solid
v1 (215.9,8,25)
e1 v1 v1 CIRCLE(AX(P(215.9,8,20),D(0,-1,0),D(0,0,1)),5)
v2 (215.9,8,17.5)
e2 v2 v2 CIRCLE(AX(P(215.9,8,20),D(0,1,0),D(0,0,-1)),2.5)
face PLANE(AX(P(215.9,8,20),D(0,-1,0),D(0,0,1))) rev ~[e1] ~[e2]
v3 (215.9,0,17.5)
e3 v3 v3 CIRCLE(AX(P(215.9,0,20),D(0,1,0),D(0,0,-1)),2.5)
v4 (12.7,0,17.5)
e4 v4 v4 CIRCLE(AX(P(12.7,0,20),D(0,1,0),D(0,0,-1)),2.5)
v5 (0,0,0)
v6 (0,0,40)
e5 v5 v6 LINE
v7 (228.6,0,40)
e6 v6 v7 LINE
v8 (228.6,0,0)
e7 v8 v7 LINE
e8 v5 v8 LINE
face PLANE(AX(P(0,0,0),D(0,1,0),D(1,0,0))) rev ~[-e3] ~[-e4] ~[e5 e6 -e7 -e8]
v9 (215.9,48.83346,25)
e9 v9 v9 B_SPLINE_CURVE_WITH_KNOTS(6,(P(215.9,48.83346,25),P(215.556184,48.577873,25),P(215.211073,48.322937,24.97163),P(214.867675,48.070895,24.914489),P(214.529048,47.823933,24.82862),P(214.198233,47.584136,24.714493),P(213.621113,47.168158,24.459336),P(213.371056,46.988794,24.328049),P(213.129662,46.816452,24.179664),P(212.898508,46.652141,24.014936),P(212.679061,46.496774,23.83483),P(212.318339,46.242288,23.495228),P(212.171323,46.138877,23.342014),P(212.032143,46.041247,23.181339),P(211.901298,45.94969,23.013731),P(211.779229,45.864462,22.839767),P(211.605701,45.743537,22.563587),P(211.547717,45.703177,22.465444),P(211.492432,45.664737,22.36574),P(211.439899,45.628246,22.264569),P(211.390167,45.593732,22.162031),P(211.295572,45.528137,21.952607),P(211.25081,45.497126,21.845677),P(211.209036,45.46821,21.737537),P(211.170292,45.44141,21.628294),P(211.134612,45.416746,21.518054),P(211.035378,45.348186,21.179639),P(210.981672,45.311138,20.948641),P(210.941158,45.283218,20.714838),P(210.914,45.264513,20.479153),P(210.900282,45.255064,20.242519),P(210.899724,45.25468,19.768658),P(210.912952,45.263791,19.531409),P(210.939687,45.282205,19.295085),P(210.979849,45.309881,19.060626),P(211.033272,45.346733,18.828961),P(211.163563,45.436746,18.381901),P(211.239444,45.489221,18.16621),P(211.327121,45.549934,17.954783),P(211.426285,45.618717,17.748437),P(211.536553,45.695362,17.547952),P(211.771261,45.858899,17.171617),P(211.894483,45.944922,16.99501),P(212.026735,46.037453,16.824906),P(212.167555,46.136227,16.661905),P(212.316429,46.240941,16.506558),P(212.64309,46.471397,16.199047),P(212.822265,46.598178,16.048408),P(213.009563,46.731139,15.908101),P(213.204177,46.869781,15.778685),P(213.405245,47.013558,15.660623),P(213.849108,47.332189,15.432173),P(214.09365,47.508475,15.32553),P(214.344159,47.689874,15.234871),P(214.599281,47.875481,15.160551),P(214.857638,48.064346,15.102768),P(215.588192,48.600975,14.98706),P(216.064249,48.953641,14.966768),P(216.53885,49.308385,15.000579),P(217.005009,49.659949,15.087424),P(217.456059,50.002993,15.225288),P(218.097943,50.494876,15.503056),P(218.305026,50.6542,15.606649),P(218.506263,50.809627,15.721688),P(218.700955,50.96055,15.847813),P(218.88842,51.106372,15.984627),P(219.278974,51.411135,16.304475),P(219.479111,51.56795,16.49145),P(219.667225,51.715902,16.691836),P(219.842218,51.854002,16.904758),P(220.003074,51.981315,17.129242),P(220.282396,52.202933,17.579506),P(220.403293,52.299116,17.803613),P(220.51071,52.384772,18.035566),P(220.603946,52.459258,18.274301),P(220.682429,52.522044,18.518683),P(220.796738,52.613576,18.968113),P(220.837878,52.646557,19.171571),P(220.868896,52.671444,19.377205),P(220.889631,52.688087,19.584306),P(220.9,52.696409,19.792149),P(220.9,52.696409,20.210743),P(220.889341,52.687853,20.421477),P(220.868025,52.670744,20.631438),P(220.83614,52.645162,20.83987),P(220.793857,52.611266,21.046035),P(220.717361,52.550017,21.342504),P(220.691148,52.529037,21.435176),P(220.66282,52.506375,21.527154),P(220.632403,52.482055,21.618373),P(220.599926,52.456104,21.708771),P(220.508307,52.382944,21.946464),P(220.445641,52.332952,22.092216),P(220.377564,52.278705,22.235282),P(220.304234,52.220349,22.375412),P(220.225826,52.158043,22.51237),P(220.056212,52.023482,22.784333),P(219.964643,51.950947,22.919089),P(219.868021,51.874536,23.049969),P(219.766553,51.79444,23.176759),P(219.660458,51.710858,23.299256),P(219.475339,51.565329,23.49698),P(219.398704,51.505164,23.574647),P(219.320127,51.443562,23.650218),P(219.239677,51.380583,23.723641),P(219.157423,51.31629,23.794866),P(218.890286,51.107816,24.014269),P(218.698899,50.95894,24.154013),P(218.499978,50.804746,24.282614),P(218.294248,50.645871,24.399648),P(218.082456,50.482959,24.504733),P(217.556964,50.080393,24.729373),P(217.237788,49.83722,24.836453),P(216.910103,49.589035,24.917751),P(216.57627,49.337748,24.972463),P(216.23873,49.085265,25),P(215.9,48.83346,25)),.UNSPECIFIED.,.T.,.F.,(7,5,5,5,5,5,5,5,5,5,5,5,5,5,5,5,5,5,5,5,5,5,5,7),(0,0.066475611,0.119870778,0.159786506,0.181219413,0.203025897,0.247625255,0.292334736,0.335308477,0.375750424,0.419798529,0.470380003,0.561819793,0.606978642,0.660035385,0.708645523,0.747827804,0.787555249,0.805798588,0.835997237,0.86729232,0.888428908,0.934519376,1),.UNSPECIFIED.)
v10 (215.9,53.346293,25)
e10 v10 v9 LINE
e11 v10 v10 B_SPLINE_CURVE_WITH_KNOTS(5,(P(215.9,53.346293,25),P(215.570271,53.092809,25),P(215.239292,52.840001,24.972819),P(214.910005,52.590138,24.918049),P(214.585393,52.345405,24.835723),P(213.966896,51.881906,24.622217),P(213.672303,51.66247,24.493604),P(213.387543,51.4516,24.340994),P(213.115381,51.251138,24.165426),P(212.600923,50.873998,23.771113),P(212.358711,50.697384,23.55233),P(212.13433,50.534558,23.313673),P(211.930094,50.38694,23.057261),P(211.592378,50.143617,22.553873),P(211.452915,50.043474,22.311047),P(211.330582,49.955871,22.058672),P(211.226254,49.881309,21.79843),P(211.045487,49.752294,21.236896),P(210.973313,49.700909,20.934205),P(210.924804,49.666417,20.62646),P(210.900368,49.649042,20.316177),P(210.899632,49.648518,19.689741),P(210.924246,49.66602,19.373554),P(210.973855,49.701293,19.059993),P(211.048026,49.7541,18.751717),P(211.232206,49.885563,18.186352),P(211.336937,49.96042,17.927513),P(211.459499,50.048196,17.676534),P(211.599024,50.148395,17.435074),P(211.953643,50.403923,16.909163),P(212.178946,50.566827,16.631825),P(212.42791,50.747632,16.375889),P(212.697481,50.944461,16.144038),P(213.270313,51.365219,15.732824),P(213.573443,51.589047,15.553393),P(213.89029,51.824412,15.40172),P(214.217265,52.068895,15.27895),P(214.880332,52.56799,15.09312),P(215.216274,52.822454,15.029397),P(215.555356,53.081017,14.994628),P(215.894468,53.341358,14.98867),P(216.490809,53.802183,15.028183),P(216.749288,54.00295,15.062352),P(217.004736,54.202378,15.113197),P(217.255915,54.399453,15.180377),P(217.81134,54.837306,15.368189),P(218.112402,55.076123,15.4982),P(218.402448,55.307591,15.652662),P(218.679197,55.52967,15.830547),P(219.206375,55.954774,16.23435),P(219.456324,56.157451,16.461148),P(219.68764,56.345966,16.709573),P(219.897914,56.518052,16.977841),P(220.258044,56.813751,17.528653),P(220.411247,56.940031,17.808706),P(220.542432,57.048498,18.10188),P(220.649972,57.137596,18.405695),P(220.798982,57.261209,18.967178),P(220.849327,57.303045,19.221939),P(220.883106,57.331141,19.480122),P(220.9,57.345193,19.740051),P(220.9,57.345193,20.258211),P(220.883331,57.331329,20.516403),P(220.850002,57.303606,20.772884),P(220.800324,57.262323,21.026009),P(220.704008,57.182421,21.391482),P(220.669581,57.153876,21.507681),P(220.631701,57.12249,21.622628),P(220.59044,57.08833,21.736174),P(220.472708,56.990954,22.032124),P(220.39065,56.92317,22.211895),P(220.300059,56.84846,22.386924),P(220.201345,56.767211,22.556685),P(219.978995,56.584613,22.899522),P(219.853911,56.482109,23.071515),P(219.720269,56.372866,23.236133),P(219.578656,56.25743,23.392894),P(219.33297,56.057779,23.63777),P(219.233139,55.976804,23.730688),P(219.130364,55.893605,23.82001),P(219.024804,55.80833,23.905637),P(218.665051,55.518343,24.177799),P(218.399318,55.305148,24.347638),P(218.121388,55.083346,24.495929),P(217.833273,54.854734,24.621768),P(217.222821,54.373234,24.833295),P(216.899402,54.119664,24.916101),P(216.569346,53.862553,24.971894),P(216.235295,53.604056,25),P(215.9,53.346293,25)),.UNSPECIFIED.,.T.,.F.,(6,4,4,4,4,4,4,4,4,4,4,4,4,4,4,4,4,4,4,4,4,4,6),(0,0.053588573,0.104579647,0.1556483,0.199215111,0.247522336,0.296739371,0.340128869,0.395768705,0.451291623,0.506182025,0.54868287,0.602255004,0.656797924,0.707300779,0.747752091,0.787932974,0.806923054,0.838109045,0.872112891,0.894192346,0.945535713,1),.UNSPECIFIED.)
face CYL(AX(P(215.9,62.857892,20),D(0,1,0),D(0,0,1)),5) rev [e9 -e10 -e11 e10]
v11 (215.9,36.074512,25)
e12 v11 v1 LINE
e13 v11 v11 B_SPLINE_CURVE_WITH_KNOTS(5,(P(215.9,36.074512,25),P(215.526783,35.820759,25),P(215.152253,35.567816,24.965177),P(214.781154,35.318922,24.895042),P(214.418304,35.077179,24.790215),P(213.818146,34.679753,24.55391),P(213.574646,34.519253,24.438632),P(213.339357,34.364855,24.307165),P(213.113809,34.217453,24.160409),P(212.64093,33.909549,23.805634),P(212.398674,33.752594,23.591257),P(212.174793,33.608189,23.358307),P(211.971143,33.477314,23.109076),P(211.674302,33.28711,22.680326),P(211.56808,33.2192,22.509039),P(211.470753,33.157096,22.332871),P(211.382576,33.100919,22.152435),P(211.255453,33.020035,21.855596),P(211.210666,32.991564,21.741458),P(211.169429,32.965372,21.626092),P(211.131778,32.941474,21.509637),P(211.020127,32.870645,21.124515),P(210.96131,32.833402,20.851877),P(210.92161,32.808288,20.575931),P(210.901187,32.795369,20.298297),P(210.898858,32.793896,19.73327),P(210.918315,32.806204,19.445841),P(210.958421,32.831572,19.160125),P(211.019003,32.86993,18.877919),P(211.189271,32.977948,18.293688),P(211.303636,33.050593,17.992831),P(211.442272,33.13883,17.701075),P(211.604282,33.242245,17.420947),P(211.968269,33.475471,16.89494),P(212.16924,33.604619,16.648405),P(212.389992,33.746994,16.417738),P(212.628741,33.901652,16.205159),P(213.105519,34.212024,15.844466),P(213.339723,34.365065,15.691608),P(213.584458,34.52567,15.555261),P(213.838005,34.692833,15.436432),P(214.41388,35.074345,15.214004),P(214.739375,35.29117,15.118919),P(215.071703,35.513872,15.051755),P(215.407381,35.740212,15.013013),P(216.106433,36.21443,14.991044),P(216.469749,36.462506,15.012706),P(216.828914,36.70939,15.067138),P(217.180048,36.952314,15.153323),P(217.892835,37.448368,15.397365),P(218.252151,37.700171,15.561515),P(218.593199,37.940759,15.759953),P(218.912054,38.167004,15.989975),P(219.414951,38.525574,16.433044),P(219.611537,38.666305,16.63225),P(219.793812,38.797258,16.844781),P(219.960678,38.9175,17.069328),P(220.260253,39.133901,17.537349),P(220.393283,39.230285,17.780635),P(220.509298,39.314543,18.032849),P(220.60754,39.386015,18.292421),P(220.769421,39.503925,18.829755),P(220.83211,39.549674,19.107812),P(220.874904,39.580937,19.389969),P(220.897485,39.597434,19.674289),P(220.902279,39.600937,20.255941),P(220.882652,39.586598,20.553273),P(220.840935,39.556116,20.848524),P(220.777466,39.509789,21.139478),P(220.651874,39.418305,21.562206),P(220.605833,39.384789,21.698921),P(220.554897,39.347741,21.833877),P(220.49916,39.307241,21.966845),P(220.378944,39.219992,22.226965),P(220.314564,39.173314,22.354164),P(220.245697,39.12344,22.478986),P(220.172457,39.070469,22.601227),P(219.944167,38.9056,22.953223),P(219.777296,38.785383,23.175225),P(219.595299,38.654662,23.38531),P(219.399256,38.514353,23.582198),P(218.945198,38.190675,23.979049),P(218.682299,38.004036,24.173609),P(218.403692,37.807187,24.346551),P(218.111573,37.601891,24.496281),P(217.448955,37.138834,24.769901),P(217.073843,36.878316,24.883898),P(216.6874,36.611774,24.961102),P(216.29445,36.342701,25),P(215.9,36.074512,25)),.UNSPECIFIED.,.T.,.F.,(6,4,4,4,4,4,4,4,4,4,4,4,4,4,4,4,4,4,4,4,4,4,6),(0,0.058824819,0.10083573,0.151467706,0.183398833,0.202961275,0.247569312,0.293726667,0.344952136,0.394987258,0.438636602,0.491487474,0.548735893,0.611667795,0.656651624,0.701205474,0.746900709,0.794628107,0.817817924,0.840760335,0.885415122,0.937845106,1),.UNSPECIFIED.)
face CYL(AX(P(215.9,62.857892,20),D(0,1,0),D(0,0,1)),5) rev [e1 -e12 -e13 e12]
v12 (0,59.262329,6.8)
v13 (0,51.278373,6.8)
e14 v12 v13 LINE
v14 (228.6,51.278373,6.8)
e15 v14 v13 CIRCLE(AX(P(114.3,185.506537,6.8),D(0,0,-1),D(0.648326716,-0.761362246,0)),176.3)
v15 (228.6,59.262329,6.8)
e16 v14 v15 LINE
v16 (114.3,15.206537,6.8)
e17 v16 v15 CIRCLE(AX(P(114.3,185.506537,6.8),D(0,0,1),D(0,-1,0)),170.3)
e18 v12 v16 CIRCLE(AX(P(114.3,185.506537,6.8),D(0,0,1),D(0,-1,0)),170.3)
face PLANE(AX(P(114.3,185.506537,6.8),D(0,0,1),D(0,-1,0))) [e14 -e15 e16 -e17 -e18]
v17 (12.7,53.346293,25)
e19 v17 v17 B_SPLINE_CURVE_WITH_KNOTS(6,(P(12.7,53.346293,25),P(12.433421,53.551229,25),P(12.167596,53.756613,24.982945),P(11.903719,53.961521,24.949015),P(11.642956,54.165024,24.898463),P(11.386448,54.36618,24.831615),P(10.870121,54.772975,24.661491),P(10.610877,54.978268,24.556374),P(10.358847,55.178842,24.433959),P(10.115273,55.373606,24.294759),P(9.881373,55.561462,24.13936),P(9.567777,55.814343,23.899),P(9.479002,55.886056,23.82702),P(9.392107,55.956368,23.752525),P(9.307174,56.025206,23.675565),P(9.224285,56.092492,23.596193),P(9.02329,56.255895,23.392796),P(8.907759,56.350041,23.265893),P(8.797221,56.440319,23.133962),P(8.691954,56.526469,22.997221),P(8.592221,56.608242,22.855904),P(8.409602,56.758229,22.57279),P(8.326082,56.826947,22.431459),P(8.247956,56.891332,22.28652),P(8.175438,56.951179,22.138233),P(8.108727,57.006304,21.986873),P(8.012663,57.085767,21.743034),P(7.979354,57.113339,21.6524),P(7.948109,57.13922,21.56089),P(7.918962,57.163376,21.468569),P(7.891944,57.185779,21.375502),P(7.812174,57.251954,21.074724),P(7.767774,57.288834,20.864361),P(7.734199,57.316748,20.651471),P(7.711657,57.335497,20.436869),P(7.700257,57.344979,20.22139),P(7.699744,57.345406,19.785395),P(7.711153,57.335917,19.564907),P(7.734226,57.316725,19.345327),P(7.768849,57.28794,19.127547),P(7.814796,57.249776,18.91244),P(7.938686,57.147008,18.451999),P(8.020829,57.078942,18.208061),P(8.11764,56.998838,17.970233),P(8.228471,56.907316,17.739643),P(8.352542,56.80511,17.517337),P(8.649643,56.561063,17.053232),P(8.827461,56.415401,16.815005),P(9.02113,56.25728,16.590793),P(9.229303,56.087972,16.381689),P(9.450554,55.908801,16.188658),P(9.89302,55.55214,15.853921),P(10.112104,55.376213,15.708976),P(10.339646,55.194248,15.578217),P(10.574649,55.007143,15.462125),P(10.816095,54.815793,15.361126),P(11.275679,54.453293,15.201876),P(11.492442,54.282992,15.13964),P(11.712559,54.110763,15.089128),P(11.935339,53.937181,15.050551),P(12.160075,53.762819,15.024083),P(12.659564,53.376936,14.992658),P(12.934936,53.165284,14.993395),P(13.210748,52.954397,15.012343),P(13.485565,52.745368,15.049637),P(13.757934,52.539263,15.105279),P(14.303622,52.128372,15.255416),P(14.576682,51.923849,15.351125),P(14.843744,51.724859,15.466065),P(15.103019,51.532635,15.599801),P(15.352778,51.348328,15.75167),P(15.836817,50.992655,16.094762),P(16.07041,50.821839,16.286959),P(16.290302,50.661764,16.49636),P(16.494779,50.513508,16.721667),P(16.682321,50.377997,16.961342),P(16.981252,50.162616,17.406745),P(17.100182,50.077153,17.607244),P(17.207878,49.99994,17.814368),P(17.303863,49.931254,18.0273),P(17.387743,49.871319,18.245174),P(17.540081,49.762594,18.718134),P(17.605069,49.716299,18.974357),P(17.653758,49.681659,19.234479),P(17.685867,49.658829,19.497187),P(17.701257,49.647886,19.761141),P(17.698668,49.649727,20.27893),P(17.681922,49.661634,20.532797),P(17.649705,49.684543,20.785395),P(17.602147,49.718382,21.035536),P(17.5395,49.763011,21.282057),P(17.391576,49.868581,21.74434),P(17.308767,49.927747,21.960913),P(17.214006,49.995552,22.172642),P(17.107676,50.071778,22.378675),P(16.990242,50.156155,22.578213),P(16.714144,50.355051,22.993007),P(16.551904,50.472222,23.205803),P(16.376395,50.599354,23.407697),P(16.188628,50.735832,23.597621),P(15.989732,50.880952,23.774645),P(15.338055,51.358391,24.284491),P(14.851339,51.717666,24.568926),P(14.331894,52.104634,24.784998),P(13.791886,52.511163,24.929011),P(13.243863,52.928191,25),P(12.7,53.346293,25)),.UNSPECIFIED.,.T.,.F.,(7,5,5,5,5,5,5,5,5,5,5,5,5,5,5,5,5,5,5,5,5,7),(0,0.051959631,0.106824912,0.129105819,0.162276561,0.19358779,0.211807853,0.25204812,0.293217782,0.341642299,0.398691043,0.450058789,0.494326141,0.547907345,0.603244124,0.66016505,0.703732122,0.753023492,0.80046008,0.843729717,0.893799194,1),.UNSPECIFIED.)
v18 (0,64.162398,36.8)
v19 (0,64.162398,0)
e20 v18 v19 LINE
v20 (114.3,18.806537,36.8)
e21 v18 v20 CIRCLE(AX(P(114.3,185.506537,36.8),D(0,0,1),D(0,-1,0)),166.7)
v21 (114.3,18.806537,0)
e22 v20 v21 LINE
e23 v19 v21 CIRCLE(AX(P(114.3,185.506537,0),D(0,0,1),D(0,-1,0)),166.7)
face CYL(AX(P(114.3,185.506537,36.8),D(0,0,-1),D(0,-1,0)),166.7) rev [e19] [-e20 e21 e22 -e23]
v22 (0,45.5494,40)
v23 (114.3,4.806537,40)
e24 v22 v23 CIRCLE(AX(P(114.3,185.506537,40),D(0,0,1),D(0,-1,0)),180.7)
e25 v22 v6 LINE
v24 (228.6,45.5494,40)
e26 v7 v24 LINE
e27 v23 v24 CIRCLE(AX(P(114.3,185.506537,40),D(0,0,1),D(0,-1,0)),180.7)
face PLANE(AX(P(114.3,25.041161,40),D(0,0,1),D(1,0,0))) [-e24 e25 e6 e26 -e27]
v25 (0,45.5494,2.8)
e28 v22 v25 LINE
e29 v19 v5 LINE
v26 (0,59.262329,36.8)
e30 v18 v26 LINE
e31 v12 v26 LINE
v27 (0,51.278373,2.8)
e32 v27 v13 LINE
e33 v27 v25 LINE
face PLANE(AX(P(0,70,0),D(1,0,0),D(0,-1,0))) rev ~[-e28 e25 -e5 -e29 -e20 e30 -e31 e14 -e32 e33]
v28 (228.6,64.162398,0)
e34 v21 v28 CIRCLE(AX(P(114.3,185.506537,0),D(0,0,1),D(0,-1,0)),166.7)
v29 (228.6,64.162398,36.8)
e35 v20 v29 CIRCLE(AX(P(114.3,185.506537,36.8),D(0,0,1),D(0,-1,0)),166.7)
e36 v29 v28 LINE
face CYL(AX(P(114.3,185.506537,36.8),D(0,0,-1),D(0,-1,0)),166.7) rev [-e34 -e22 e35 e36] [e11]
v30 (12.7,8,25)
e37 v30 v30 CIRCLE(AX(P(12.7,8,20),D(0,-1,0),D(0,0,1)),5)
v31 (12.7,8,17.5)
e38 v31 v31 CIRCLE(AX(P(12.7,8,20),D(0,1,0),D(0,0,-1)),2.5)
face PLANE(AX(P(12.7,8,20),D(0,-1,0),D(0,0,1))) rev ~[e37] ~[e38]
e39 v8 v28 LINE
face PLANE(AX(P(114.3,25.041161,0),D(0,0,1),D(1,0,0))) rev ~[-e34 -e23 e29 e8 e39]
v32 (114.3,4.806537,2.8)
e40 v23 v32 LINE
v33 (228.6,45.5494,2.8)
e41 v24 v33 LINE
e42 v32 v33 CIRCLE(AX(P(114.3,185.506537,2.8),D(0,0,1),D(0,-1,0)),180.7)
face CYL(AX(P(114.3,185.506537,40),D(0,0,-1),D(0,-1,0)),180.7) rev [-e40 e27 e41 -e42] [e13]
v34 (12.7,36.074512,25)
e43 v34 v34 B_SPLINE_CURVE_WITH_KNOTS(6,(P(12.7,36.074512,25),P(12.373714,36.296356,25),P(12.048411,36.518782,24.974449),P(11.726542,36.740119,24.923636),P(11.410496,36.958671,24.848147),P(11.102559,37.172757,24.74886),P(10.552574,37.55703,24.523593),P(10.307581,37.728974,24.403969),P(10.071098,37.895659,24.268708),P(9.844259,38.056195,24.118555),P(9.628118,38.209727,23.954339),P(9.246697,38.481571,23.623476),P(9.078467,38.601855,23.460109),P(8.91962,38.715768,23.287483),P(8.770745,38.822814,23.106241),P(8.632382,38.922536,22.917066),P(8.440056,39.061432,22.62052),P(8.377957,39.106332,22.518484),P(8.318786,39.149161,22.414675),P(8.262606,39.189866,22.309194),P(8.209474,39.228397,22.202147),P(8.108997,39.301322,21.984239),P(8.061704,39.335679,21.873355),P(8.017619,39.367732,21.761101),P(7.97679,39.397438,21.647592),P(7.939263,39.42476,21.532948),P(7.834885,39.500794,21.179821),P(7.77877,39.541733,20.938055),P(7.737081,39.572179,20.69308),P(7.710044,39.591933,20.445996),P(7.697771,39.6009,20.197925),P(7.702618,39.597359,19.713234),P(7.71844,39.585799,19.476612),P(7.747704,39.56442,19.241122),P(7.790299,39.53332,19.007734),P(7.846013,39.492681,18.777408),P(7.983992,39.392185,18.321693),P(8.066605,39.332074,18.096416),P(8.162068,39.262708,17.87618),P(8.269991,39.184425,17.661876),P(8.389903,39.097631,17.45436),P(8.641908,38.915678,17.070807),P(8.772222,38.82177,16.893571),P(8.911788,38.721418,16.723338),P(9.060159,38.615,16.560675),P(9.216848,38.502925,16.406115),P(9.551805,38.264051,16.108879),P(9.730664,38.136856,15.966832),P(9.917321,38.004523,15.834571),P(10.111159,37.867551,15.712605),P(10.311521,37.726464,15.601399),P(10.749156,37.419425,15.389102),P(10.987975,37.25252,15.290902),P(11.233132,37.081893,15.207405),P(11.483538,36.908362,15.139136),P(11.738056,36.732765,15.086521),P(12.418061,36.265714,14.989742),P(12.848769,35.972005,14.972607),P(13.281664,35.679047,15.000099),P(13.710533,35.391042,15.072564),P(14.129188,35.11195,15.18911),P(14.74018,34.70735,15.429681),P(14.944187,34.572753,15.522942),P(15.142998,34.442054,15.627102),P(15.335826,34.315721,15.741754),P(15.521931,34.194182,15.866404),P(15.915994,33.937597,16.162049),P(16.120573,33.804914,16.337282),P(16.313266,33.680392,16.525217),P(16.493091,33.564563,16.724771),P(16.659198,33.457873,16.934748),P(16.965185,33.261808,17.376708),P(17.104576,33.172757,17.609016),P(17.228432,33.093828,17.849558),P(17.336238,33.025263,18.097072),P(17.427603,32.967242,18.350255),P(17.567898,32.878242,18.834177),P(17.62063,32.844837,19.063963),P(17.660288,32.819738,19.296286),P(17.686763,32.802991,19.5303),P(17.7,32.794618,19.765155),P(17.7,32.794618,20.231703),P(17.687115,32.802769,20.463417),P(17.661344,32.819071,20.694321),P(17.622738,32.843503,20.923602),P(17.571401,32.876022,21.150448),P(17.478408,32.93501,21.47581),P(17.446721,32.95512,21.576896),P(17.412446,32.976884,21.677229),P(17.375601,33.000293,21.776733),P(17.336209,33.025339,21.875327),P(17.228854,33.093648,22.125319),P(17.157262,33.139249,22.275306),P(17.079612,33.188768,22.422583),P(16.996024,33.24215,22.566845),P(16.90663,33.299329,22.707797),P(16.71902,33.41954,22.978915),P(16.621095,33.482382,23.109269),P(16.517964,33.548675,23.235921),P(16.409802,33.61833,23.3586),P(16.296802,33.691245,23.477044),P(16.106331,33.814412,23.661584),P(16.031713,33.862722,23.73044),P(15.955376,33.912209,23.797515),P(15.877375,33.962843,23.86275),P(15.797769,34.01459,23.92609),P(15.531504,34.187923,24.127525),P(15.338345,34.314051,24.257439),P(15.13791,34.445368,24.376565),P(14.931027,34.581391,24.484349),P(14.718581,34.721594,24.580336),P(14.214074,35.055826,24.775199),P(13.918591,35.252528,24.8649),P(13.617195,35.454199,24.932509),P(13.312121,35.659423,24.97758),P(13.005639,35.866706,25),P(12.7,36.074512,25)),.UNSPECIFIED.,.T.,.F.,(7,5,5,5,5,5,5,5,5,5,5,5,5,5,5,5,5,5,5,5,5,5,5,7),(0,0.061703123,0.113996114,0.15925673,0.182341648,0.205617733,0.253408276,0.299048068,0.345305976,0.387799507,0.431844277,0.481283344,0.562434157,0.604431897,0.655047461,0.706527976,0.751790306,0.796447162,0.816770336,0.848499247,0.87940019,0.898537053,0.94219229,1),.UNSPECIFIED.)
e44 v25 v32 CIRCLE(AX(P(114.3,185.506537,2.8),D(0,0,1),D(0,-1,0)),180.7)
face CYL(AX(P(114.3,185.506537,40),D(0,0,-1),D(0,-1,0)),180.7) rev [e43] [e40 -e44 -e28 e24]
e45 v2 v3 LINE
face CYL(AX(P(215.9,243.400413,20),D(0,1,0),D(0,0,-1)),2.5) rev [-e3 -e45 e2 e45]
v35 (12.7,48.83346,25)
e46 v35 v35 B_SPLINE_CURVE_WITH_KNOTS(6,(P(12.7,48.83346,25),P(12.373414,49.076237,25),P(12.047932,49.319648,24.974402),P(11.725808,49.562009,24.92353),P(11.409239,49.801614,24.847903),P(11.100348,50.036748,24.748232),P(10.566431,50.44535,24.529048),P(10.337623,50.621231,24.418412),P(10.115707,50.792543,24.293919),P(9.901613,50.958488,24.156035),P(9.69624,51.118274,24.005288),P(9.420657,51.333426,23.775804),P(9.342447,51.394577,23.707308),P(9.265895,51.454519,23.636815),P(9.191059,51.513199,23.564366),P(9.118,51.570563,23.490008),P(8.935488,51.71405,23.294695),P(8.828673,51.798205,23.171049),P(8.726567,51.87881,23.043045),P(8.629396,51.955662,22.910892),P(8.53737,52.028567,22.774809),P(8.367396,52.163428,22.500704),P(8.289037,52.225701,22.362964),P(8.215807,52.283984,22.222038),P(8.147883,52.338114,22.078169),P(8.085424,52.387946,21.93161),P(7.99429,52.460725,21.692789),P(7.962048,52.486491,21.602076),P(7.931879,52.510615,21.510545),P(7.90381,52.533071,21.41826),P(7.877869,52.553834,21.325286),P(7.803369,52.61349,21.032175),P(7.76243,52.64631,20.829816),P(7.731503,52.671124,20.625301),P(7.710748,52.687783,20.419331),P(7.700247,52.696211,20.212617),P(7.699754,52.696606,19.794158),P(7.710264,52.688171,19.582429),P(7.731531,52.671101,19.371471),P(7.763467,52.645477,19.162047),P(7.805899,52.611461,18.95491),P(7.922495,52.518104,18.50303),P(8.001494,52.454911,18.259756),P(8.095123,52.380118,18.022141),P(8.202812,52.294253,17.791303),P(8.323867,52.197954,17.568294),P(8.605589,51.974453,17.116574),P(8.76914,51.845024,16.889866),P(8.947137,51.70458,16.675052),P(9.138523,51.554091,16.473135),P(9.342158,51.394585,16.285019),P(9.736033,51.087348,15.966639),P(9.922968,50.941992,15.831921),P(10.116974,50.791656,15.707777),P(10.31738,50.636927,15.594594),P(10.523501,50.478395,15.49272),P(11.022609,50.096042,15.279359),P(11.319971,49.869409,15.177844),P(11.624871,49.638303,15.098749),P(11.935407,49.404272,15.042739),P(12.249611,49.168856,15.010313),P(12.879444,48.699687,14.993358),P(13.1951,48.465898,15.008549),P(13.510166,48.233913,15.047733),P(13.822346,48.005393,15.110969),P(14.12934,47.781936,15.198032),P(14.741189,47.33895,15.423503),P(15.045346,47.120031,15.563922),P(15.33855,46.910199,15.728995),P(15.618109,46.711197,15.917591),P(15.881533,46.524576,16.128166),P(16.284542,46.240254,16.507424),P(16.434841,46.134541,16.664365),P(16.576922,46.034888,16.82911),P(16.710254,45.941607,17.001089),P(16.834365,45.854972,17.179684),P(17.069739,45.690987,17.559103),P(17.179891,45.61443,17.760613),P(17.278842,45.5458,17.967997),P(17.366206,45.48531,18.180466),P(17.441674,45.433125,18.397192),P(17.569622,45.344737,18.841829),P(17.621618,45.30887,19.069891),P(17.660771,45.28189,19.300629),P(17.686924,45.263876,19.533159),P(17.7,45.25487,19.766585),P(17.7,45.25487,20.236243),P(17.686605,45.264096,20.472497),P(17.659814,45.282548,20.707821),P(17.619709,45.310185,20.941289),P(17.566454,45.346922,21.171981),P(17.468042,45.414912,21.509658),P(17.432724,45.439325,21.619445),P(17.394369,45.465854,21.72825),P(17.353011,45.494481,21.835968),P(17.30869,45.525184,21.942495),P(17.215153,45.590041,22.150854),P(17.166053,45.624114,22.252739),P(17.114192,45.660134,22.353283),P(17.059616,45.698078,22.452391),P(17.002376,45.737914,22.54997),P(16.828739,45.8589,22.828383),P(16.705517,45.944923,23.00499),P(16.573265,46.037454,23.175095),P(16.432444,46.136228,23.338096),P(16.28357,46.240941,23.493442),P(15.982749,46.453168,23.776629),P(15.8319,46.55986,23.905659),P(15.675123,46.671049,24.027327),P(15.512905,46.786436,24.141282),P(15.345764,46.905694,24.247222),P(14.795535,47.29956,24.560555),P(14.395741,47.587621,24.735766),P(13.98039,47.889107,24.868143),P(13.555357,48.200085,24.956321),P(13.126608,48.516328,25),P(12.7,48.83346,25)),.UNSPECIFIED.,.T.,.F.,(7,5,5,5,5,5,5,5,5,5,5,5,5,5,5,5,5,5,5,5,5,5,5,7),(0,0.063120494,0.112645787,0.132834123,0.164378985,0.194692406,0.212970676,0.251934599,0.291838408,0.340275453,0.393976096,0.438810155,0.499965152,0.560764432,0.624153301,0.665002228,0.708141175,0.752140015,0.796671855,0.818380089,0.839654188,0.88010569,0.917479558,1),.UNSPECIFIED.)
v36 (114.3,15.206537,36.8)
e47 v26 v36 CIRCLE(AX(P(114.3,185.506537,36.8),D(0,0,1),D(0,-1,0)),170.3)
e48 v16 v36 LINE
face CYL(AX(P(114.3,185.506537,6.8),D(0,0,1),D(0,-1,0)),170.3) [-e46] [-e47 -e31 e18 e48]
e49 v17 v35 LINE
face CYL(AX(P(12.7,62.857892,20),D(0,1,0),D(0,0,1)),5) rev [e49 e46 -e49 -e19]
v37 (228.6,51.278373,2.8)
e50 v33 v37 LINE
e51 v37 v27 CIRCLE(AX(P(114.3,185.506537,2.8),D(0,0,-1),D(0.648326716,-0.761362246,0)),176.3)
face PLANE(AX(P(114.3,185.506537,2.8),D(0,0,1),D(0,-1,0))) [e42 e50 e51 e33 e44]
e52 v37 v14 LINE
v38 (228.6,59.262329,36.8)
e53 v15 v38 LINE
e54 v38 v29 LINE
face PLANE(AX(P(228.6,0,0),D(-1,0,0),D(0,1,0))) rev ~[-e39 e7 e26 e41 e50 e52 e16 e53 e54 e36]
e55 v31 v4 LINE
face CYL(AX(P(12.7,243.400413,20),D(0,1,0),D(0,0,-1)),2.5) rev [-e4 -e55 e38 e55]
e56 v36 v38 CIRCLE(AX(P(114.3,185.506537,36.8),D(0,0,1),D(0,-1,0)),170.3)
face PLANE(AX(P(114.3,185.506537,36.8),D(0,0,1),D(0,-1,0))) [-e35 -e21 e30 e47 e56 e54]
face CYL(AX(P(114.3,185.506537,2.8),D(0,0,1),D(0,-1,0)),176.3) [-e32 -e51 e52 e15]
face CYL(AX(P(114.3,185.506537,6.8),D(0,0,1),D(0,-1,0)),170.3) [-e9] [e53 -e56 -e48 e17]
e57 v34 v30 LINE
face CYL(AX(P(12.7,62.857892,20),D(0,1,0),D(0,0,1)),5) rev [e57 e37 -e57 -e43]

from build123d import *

# Parameters (mm, degrees)
BOSS_EXTRUDE1_DEPTH     = 40
SKETCH2_W               = 26
SKETCH2_H               = 6
CUT_EXTRUDE1_DEPTH      = 243.400412541
CUT_EXTRUDE1_DEPTH_BACK = 243.400412541
SKETCH4_R               = 2.5
CUT_EXTRUDE3_START      = 7.142108
SKETCH7_R               = 5
CUT_EXTRUDE3_DEPTH      = 54.857892


with BuildPart() as part:
    # Sketch1 → Boss-Extrude1 (new body)
    with BuildSketch(Plane.XY):
        with BuildLine():
            Line((0, 0), (228.6, 0))
            Line((228.6, 0), (228.6, 70))
            ThreePointArc((228.6, 70), (114.3, 23.006536612), (0, 70))
            Line((0, 70), (0, 0))
        make_face()
    extrude(amount=BOSS_EXTRUDE1_DEPTH)

    # Sketch2 → Cut-Revolve1 (revolve, cut)
    with BuildSketch(Plane(origin=(114.3, 0, 0), x_dir=(0, 0, -1), z_dir=(1, 0, 0))):
        with Locations((-20, 12.006536612)):
            Rectangle(SKETCH2_W, SKETCH2_H)
    revolve(axis=Axis((114.3, 185.506536612, 40), (0, 0, 1)), mode=Mode.SUBTRACT)

    # Sketch4 → Cut-Extrude1 (cut, two sides: drawn at the far end of the back side and taken through both)
    with BuildSketch(Plane.XZ.offset(-CUT_EXTRUDE1_DEPTH_BACK)):
        with Locations(Location((12.7, 20, 0), (0, 0, 270))):
            Circle(SKETCH4_R)
        with Locations(Location((215.9, 20, 0), (0, 0, 270))):
            Circle(SKETCH4_R)
    extrude(amount=CUT_EXTRUDE1_DEPTH + CUT_EXTRUDE1_DEPTH_BACK, mode=Mode.SUBTRACT)

    # Sketch7 → Cut-Extrude3 (cut)
    with BuildSketch(Plane(origin=(0, 70, 0), x_dir=(-1, 0, 0), z_dir=(0, -1, 0)).offset(CUT_EXTRUDE3_START)):
        with Locations(Location((-215.9, -20, 0), (0, 0, 270))):
            Circle(SKETCH7_R)
        with Locations(Location((-12.7, -20, 0), (0, 0, 270))):
            Circle(SKETCH7_R)
    extrude(amount=CUT_EXTRUDE3_DEPTH, mode=Mode.SUBTRACT)

    # Sketch9 → Cut-Revolve3 (revolve, cut)
    with BuildSketch(Plane(origin=(114.3, 0, 0), x_dir=(0, 0, -1), z_dir=(1, 0, 0))):
        Polygon((0, 18.806536612), (0, 23.006536612), (-40, 23.006536612), (-40, 4.806536612), (-2.8, 4.806536612), (-2.8, 9.206536612), (-6.8, 9.206536612), (-6.8, 15.206536612), (-36.8, 15.206536612), (-36.8, 18.806536612), align=None)
    revolve(axis=Axis((114.3, 185.506536612, 40), (0, 0, 1)), mode=Mode.SUBTRACT)


solid = part.part
